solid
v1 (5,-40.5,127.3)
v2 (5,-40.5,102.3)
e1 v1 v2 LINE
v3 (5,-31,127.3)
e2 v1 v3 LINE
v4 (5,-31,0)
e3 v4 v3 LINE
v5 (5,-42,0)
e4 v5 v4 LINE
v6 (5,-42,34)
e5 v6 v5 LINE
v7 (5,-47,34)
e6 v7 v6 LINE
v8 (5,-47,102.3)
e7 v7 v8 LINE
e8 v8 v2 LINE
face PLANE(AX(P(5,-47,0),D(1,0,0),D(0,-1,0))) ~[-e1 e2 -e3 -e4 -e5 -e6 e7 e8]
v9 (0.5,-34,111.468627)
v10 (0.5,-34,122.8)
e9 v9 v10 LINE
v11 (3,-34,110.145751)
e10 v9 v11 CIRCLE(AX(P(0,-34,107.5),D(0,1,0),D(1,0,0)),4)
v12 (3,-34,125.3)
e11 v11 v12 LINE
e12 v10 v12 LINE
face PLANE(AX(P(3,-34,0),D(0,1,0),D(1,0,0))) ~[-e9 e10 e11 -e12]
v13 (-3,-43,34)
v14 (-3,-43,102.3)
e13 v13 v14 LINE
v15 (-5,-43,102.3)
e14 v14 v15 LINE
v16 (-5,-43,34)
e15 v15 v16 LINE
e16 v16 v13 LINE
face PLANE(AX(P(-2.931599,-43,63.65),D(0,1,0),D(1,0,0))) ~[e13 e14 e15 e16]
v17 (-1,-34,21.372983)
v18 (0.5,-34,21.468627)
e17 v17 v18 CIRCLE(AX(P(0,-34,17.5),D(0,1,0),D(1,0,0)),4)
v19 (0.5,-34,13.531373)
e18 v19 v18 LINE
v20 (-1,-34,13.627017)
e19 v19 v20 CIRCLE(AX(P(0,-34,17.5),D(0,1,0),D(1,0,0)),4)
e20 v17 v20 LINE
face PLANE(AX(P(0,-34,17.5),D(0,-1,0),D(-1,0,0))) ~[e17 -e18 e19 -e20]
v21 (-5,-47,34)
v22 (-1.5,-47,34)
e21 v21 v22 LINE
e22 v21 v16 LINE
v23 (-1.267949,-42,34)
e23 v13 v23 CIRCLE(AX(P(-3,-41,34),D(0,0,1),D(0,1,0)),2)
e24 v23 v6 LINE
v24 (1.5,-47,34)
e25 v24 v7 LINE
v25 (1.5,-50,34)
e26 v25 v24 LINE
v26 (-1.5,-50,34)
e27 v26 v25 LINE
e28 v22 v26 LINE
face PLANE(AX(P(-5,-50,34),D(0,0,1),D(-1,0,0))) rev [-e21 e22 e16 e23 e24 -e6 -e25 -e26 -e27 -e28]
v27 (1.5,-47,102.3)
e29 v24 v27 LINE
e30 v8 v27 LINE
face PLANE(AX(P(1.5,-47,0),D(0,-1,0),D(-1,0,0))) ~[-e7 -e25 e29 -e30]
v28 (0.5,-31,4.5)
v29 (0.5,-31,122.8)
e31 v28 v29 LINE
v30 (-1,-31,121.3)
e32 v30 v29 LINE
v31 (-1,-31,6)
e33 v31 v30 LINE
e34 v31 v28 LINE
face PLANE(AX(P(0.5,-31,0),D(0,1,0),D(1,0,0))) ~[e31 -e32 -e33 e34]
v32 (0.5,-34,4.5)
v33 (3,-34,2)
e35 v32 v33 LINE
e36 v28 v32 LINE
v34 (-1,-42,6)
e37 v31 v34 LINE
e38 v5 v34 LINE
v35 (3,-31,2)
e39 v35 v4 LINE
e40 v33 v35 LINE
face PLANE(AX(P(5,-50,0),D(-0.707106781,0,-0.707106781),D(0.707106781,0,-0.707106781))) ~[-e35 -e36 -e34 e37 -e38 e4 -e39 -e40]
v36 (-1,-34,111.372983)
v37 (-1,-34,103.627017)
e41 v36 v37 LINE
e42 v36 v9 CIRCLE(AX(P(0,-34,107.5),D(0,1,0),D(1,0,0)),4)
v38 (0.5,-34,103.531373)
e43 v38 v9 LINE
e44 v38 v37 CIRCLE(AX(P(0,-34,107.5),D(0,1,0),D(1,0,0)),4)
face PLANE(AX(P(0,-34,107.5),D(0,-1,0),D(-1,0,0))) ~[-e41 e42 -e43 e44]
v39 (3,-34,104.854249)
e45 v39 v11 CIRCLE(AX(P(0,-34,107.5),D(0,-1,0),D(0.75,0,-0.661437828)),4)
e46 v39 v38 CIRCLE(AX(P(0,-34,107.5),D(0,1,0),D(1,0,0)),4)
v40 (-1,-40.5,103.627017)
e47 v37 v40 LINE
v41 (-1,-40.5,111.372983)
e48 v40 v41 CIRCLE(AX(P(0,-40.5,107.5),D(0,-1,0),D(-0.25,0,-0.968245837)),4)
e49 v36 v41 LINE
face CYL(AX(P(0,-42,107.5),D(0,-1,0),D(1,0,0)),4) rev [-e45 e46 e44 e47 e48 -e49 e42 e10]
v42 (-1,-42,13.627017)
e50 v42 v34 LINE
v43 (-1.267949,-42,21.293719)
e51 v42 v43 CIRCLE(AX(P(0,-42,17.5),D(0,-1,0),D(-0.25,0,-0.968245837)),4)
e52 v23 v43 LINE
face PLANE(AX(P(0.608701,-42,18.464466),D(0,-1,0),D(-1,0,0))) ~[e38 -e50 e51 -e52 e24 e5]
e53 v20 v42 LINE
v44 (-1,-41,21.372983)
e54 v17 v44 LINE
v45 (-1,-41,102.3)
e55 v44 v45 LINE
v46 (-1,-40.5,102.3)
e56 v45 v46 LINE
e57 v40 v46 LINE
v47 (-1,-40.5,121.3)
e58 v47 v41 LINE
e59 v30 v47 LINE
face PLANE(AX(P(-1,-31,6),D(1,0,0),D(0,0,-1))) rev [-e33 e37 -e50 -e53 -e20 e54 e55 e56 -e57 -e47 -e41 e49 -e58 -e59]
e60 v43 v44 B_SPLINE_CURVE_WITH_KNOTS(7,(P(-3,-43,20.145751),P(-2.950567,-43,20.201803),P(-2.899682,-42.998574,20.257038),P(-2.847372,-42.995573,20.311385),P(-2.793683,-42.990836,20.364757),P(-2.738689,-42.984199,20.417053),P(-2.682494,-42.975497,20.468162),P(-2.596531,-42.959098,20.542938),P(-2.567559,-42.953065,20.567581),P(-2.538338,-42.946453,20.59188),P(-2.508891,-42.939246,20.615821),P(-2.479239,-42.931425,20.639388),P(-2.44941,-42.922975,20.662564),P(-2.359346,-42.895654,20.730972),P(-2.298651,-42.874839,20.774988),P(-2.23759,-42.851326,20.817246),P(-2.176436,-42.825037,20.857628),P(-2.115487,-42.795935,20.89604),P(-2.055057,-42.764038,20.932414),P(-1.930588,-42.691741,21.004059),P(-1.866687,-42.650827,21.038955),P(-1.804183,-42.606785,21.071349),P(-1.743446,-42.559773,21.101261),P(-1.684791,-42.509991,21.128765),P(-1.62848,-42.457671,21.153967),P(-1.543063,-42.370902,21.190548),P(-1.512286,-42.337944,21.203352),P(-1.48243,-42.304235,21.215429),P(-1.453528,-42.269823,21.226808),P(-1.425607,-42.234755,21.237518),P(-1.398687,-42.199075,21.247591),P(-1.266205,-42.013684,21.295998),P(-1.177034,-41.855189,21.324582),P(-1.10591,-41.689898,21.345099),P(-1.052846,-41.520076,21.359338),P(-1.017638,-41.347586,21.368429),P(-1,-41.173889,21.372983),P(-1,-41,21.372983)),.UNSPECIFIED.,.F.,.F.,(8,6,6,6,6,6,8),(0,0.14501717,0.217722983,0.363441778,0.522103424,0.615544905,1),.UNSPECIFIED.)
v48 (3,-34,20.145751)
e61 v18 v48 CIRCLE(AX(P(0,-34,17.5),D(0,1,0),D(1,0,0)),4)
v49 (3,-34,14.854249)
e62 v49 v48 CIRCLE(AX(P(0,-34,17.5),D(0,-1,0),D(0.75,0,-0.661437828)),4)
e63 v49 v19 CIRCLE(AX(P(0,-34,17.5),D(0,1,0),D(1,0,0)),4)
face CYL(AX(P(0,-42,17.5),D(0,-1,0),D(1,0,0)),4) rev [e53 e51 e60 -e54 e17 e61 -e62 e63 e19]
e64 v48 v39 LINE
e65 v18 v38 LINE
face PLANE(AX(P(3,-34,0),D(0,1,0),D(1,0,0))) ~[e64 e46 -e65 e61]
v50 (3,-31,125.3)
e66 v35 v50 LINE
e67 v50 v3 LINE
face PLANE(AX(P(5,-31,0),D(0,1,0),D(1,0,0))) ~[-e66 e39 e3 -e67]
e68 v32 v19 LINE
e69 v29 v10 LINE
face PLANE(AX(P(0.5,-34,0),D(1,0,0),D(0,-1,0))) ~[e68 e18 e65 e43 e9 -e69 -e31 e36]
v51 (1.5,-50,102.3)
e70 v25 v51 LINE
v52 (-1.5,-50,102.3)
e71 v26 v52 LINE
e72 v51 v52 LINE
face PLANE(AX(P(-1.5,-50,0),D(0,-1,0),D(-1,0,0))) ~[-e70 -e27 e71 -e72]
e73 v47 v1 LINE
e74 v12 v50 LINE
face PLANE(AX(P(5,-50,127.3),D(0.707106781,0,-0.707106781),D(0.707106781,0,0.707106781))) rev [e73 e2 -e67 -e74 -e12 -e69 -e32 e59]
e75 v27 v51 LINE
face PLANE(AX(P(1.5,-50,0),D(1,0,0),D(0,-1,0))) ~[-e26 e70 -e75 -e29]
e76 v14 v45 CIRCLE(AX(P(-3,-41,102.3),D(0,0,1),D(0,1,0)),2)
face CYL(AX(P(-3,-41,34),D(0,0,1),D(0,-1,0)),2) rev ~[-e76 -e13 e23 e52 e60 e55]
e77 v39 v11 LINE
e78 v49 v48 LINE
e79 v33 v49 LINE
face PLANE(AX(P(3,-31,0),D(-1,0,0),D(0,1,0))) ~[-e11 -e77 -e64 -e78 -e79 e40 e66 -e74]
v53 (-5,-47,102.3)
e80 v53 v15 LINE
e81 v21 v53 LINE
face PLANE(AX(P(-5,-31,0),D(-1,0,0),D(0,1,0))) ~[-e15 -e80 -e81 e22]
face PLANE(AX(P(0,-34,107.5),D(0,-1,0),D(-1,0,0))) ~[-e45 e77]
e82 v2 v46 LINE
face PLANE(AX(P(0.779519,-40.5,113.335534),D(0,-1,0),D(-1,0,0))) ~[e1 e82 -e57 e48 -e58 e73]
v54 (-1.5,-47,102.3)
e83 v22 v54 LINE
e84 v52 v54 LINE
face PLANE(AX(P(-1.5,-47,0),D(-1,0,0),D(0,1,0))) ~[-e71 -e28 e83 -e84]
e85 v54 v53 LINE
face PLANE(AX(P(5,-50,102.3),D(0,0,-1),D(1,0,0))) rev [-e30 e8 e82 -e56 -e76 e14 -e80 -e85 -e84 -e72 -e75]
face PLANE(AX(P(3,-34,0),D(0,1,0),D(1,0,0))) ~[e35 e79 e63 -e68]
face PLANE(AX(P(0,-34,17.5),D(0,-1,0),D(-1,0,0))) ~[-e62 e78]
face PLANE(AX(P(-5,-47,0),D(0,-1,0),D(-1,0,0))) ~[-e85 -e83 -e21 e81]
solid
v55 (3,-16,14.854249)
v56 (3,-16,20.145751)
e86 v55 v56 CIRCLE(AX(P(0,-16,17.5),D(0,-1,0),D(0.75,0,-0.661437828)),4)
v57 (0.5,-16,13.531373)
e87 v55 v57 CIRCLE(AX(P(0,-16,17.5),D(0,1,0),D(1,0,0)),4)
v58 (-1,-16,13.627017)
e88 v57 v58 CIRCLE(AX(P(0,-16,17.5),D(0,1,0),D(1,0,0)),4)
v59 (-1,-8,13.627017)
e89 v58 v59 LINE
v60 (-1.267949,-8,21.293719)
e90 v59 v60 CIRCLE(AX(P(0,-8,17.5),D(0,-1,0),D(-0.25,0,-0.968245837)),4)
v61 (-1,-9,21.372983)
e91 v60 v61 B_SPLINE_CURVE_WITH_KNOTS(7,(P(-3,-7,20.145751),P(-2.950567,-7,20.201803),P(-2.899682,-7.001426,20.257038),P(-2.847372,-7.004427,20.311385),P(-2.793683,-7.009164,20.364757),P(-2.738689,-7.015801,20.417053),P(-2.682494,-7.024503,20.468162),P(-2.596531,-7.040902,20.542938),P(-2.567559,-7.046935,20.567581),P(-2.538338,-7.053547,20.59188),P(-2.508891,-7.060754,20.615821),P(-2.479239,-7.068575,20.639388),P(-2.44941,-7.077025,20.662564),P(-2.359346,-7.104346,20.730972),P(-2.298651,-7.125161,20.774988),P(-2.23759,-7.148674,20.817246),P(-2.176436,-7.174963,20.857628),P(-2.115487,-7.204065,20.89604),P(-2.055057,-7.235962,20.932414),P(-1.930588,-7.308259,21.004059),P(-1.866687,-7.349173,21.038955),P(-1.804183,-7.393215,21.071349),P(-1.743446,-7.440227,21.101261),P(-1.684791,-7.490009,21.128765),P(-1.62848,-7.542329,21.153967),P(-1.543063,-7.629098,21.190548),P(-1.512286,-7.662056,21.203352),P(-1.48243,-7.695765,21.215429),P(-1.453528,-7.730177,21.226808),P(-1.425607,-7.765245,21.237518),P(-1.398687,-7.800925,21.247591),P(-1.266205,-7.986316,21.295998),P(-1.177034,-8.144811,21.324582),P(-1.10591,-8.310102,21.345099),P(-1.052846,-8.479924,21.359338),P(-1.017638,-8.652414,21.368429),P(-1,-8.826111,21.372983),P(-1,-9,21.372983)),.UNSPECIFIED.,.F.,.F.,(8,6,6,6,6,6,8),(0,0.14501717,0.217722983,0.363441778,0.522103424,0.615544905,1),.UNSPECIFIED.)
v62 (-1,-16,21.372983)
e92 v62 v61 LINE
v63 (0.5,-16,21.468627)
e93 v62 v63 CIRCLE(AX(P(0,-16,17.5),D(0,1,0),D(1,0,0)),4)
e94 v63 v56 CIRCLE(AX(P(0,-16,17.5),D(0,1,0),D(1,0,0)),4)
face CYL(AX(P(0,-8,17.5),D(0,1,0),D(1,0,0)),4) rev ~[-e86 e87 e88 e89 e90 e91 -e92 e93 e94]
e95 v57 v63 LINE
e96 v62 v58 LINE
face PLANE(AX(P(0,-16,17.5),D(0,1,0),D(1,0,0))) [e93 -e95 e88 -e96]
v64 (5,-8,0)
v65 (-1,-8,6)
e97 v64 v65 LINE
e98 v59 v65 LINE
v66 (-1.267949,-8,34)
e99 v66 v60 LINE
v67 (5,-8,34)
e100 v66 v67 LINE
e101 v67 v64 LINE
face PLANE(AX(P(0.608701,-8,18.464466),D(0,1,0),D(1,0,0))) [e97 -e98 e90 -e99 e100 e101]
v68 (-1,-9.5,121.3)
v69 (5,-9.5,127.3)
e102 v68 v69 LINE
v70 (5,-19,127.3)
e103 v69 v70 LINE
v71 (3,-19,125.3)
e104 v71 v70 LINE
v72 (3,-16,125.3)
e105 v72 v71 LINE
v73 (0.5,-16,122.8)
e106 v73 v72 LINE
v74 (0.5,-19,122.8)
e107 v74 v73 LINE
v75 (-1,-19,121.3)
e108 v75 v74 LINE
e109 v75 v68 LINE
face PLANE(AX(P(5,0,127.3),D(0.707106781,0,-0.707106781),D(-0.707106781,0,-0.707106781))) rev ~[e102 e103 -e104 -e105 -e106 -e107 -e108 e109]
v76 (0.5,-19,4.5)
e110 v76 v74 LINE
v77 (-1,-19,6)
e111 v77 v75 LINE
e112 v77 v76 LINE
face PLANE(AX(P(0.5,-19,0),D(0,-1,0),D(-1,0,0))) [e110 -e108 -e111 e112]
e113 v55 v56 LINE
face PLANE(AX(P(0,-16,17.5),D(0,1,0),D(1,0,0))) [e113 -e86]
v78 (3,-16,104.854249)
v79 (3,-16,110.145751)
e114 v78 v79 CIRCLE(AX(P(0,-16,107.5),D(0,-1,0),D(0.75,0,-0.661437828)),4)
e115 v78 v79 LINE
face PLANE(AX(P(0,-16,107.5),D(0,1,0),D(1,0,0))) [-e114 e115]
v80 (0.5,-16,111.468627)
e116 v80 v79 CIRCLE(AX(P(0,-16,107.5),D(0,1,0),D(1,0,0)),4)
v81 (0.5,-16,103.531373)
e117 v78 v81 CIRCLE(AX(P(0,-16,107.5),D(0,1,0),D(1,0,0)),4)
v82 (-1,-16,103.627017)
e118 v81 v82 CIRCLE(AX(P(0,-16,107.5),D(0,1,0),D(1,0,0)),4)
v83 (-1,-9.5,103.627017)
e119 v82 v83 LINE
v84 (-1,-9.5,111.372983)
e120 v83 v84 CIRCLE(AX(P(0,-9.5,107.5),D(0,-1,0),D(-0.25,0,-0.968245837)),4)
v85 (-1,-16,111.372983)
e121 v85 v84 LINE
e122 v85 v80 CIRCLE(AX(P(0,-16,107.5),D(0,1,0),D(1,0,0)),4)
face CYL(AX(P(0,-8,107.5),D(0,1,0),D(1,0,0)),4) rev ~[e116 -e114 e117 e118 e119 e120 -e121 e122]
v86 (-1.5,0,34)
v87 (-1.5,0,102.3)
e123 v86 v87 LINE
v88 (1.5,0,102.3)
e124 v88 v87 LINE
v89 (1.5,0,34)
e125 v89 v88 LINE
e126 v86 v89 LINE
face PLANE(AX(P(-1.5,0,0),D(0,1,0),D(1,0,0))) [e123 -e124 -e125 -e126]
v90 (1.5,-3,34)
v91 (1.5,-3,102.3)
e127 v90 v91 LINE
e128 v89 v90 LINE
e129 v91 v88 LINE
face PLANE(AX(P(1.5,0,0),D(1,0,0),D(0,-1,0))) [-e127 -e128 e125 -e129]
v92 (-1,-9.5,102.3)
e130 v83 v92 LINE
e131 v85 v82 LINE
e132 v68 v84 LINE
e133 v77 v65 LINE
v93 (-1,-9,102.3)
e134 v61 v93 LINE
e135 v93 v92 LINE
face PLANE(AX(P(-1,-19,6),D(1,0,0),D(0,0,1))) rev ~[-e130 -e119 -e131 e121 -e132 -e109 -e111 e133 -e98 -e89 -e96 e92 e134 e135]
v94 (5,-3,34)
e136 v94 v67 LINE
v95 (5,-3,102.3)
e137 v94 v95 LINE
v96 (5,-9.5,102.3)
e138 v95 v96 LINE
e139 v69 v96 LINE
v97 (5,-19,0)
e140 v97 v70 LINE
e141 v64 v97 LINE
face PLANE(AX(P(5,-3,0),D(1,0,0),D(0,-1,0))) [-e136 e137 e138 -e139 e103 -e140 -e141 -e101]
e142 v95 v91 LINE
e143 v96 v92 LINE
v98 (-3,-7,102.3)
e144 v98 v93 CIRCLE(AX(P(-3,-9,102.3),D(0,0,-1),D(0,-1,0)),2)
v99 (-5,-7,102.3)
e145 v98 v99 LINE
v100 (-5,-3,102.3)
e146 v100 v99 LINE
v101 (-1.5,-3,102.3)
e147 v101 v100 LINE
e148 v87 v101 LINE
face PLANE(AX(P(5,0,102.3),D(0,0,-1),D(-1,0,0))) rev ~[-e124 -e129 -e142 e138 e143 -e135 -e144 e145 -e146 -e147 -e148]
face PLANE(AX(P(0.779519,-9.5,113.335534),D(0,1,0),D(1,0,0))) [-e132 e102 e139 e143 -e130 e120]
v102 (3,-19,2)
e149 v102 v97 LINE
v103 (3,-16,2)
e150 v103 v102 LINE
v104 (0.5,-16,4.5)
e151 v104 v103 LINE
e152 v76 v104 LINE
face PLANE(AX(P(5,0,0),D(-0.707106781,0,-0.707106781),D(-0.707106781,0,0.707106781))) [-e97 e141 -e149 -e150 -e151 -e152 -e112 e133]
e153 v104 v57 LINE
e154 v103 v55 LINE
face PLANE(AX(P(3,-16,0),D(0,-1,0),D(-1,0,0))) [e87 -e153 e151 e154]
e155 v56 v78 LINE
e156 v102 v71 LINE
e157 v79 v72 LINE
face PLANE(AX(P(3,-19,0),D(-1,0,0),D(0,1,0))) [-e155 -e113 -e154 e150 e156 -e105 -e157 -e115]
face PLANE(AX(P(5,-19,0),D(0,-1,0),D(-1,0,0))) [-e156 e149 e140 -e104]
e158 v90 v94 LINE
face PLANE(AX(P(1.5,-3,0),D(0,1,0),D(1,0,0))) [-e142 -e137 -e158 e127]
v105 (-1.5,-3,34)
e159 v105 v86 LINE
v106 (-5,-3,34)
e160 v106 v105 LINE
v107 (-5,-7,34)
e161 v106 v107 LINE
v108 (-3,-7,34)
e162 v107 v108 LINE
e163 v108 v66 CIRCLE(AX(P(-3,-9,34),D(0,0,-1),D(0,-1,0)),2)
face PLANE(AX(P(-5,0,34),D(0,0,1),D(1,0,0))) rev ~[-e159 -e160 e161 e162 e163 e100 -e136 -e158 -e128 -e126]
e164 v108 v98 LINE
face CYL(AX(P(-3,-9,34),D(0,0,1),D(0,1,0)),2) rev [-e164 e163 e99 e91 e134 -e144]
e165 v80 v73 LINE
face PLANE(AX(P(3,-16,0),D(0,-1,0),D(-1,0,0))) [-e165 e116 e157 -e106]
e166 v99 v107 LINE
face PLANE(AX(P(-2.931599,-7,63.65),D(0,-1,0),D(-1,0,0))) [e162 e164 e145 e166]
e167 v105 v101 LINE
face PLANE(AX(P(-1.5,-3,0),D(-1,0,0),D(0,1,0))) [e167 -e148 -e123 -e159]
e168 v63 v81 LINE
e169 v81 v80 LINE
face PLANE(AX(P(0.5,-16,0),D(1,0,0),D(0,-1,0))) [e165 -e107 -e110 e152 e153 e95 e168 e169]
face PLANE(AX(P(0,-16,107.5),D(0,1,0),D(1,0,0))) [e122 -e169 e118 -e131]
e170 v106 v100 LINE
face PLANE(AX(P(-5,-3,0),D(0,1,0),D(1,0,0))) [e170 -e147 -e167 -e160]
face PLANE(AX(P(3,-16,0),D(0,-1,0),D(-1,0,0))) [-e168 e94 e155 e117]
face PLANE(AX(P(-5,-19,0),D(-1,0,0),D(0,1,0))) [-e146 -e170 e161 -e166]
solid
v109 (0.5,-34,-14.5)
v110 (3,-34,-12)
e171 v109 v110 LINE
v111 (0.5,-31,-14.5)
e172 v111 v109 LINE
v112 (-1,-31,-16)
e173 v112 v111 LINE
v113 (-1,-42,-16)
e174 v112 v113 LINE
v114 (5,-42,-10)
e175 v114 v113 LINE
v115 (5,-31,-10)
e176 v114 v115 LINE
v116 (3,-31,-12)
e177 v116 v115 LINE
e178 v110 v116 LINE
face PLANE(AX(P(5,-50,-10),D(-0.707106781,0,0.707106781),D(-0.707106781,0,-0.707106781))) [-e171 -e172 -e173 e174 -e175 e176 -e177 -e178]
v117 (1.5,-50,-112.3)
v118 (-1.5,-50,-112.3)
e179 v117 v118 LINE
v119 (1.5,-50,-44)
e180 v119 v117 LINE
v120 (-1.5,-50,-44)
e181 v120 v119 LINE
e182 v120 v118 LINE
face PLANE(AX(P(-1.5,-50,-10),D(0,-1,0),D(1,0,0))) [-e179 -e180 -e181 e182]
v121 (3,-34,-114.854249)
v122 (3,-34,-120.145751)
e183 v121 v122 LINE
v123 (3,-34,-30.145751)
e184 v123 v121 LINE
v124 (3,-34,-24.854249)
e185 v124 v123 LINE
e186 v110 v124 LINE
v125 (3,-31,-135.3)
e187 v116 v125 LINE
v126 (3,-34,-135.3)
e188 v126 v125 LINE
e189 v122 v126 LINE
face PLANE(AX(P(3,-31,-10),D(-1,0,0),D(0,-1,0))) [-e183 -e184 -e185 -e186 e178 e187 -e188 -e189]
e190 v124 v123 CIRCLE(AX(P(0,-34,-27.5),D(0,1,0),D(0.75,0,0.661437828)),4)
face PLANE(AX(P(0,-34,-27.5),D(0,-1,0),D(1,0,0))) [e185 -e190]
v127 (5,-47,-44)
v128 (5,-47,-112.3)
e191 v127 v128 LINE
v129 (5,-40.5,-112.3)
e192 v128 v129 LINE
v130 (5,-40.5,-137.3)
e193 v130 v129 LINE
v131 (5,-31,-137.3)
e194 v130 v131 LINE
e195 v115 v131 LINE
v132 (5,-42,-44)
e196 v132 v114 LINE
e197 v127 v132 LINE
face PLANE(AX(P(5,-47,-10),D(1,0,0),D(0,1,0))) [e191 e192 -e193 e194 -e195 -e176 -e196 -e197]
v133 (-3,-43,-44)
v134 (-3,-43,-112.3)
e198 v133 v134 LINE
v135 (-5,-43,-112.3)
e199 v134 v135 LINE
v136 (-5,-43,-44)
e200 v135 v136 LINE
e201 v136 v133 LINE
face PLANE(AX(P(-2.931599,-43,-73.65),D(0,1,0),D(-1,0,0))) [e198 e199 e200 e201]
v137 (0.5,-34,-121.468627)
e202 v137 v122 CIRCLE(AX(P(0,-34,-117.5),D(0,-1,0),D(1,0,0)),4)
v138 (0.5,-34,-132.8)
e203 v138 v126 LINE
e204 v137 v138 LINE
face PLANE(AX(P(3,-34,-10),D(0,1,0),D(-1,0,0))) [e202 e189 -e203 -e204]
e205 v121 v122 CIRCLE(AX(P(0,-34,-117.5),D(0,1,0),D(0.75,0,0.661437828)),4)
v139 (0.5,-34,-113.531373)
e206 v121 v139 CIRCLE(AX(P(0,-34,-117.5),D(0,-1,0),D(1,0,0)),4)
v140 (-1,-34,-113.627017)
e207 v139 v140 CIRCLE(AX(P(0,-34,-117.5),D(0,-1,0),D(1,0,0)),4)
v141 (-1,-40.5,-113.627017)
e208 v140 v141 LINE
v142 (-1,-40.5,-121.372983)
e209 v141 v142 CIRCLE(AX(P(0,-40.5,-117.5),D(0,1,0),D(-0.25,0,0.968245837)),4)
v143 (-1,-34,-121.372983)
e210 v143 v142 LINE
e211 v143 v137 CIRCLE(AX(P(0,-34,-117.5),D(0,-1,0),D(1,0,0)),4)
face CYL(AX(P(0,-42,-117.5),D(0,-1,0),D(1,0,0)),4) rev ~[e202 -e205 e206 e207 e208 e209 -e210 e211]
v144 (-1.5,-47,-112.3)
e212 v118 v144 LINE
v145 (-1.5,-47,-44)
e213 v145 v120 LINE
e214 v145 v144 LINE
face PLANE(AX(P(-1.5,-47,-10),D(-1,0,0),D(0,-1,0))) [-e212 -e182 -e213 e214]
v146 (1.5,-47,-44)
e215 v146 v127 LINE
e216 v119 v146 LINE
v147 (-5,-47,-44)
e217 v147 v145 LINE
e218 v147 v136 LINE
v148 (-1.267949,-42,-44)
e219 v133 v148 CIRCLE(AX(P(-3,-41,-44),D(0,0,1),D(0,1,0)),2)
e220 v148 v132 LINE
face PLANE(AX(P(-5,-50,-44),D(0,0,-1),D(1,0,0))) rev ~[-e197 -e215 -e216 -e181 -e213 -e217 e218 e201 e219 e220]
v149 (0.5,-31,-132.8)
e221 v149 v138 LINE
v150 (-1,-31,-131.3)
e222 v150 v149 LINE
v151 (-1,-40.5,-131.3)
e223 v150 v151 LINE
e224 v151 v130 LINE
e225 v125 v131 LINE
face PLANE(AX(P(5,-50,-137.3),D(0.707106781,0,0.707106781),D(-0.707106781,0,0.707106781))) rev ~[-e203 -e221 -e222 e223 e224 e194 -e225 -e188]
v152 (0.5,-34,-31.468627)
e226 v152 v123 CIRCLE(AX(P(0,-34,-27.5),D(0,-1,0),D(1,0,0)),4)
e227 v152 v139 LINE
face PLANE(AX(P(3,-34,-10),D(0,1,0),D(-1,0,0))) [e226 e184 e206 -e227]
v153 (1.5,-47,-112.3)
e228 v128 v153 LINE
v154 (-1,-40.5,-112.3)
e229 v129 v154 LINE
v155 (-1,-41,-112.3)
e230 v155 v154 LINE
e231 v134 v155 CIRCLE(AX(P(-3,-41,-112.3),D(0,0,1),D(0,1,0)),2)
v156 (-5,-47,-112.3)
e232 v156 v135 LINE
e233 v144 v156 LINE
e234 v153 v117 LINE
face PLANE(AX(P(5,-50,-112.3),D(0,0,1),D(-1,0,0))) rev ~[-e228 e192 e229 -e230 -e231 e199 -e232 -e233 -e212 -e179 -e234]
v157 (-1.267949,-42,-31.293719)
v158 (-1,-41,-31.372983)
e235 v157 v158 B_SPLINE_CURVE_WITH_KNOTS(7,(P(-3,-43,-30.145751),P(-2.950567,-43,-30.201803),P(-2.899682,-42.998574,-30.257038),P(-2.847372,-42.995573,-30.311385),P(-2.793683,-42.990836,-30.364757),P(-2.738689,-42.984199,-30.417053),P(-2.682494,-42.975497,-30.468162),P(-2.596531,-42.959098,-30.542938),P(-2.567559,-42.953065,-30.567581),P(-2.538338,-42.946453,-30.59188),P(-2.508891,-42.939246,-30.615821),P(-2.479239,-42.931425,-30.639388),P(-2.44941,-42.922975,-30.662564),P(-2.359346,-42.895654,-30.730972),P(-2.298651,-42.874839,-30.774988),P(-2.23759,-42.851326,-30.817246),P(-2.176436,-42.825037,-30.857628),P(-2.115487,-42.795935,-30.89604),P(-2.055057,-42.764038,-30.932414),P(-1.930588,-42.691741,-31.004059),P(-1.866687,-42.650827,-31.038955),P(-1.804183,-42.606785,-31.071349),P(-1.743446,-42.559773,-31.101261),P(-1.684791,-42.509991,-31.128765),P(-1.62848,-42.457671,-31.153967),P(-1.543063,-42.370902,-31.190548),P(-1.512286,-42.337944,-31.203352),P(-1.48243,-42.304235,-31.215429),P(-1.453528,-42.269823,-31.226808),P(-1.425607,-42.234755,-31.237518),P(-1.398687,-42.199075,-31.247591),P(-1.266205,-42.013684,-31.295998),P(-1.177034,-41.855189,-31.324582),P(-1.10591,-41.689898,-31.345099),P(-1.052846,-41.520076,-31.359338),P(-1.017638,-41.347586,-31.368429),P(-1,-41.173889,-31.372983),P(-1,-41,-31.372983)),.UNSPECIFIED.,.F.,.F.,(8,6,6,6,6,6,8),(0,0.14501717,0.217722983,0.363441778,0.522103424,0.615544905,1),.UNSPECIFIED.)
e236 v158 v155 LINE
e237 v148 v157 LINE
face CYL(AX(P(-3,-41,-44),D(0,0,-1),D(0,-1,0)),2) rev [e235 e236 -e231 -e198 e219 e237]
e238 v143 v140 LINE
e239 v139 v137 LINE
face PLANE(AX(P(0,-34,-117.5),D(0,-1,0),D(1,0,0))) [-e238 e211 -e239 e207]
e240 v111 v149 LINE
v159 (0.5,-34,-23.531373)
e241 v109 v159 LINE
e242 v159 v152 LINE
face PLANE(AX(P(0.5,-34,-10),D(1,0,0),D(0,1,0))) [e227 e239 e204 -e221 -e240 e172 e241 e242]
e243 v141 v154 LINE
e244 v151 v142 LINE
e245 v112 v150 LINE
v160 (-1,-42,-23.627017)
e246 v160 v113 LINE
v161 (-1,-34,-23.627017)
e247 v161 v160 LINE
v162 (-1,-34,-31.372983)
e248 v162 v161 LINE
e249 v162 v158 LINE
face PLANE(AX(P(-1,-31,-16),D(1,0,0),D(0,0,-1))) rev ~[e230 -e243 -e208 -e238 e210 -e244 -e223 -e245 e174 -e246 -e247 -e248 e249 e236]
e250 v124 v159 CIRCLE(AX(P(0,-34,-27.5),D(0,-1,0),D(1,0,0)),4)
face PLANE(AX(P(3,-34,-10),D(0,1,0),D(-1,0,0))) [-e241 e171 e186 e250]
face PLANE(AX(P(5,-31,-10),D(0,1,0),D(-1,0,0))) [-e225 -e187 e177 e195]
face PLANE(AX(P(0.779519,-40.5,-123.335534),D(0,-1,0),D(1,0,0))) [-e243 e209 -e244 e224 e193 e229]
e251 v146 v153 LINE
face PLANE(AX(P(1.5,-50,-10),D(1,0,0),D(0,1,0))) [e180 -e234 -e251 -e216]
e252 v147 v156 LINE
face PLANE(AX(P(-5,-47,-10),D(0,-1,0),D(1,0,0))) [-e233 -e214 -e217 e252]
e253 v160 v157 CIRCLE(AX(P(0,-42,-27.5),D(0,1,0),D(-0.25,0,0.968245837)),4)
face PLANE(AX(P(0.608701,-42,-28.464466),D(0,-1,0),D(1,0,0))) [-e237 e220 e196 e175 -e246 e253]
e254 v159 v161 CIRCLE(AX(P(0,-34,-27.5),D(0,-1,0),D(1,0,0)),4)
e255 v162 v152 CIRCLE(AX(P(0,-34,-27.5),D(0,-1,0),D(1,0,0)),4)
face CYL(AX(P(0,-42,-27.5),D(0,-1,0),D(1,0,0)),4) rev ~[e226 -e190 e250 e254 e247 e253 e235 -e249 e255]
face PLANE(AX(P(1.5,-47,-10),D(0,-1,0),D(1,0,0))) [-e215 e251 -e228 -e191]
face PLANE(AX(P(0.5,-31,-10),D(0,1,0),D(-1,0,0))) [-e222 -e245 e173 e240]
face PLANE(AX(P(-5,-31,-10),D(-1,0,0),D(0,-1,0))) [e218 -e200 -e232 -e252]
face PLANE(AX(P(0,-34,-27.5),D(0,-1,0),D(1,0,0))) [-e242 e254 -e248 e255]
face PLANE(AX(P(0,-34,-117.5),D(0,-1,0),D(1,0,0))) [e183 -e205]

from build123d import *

# Parameters (mm, degrees)
MAIN_DEPTH                      = 127.3
CUTDIAGONALE_DEPTH              = 20
CUTOTHERPIECEINROBOTRIGHT_DEPTH = 8
CUTOTHERPIECEINROBOTLEFT_DEPTH  = 9.5
SKETCH4_R                       = 4
SCREWHOLES_DEPTH                = 8
CUT_EXTRUDE4_DEPTH              = 12
FILLET1_R                       = 2


with BuildPart() as part:
    # Sketch1 → Main (new body)
    with BuildSketch(Plane.XY):
        Polygon((-5, -3), (-1.5, -3), (-1.5, 0), (1.5, 0), (1.5, -3), (5, -3), (5, -19), (3, -19), (3, -16), (0.5, -16), (0.5, -19), (-5, -19), align=None)
    extrude(amount=MAIN_DEPTH)

    # Sketch2 → CutDiagonale (cut, through all)
    with BuildSketch(Plane(origin=(0, 0, 0), x_dir=(1, 0, 0), z_dir=(0, 1, 0))):
        Polygon((5, -127.3), (-5, -117.3), (-5, -127.3), align=None)
        Polygon((5, 0), (-5, -10), (-5, 0), align=None)
    extrude(amount=-CUTDIAGONALE_DEPTH, mode=Mode.SUBTRACT)

    # Sketch3 → CutOtherPieceInRobotRight (cut)
    with BuildSketch(Plane(origin=(0, 0, 0), x_dir=(-1, 0, 0), z_dir=(0, -1, 0))):
        Polygon((5, -10), (5, -34), (-5, -34), (-5, 0), align=None)
    extrude(amount=CUTOTHERPIECEINROBOTRIGHT_DEPTH, mode=Mode.SUBTRACT)

    # Sketch6 → CutOtherPieceInRobotLeft (cut)
    with BuildSketch(Plane(origin=(0, 0, 0), x_dir=(1, 0, 0), z_dir=(0, 1, 0))):
        Polygon((5, -127.3), (5, -102.3), (-5, -102.3), (-5, -117.3), align=None)
    extrude(amount=-CUTOTHERPIECEINROBOTLEFT_DEPTH, mode=Mode.SUBTRACT)

    # Sketch4 → ScrewHoles (cut)
    with BuildSketch(Plane(origin=(0, -8, 0), x_dir=(1, 0, 0), z_dir=(0, 1, 0))):
        with Locations((0, -17.5)):
            Circle(SKETCH4_R)
        with Locations((0, -107.5)):
            Circle(SKETCH4_R)
    extrude(amount=-SCREWHOLES_DEPTH, mode=Mode.SUBTRACT)

    # Sketch5 → Cut-Extrude4 (cut)
    with BuildSketch(Plane(origin=(0, -19, 0), x_dir=(-1, 0, 0), z_dir=(0, -1, 0))):
        Polygon((1, -121.3), (5, -117.3), (5, -10), (1, -6), align=None)
    extrude(amount=-CUT_EXTRUDE4_DEPTH, mode=Mode.SUBTRACT)

    # Fillet1
    fillet1_edges = [part.edges().sort_by_distance(p)[0] for p in [
        (-1, -7, 68.15),
    ]]
    fillet(fillet1_edges, radius=FILLET1_R)


with BuildPart() as body_2:
    # Mirror1: mirrored copy
    add(part.part.mirror(Plane.ZX.offset(-25)))


with BuildPart() as body_3:
    # Mirror2: mirrored copy
    add(body_2.part.mirror(Plane.XY.offset(-5)))


solid = Compound([part.part, body_2.part, body_3.part])
